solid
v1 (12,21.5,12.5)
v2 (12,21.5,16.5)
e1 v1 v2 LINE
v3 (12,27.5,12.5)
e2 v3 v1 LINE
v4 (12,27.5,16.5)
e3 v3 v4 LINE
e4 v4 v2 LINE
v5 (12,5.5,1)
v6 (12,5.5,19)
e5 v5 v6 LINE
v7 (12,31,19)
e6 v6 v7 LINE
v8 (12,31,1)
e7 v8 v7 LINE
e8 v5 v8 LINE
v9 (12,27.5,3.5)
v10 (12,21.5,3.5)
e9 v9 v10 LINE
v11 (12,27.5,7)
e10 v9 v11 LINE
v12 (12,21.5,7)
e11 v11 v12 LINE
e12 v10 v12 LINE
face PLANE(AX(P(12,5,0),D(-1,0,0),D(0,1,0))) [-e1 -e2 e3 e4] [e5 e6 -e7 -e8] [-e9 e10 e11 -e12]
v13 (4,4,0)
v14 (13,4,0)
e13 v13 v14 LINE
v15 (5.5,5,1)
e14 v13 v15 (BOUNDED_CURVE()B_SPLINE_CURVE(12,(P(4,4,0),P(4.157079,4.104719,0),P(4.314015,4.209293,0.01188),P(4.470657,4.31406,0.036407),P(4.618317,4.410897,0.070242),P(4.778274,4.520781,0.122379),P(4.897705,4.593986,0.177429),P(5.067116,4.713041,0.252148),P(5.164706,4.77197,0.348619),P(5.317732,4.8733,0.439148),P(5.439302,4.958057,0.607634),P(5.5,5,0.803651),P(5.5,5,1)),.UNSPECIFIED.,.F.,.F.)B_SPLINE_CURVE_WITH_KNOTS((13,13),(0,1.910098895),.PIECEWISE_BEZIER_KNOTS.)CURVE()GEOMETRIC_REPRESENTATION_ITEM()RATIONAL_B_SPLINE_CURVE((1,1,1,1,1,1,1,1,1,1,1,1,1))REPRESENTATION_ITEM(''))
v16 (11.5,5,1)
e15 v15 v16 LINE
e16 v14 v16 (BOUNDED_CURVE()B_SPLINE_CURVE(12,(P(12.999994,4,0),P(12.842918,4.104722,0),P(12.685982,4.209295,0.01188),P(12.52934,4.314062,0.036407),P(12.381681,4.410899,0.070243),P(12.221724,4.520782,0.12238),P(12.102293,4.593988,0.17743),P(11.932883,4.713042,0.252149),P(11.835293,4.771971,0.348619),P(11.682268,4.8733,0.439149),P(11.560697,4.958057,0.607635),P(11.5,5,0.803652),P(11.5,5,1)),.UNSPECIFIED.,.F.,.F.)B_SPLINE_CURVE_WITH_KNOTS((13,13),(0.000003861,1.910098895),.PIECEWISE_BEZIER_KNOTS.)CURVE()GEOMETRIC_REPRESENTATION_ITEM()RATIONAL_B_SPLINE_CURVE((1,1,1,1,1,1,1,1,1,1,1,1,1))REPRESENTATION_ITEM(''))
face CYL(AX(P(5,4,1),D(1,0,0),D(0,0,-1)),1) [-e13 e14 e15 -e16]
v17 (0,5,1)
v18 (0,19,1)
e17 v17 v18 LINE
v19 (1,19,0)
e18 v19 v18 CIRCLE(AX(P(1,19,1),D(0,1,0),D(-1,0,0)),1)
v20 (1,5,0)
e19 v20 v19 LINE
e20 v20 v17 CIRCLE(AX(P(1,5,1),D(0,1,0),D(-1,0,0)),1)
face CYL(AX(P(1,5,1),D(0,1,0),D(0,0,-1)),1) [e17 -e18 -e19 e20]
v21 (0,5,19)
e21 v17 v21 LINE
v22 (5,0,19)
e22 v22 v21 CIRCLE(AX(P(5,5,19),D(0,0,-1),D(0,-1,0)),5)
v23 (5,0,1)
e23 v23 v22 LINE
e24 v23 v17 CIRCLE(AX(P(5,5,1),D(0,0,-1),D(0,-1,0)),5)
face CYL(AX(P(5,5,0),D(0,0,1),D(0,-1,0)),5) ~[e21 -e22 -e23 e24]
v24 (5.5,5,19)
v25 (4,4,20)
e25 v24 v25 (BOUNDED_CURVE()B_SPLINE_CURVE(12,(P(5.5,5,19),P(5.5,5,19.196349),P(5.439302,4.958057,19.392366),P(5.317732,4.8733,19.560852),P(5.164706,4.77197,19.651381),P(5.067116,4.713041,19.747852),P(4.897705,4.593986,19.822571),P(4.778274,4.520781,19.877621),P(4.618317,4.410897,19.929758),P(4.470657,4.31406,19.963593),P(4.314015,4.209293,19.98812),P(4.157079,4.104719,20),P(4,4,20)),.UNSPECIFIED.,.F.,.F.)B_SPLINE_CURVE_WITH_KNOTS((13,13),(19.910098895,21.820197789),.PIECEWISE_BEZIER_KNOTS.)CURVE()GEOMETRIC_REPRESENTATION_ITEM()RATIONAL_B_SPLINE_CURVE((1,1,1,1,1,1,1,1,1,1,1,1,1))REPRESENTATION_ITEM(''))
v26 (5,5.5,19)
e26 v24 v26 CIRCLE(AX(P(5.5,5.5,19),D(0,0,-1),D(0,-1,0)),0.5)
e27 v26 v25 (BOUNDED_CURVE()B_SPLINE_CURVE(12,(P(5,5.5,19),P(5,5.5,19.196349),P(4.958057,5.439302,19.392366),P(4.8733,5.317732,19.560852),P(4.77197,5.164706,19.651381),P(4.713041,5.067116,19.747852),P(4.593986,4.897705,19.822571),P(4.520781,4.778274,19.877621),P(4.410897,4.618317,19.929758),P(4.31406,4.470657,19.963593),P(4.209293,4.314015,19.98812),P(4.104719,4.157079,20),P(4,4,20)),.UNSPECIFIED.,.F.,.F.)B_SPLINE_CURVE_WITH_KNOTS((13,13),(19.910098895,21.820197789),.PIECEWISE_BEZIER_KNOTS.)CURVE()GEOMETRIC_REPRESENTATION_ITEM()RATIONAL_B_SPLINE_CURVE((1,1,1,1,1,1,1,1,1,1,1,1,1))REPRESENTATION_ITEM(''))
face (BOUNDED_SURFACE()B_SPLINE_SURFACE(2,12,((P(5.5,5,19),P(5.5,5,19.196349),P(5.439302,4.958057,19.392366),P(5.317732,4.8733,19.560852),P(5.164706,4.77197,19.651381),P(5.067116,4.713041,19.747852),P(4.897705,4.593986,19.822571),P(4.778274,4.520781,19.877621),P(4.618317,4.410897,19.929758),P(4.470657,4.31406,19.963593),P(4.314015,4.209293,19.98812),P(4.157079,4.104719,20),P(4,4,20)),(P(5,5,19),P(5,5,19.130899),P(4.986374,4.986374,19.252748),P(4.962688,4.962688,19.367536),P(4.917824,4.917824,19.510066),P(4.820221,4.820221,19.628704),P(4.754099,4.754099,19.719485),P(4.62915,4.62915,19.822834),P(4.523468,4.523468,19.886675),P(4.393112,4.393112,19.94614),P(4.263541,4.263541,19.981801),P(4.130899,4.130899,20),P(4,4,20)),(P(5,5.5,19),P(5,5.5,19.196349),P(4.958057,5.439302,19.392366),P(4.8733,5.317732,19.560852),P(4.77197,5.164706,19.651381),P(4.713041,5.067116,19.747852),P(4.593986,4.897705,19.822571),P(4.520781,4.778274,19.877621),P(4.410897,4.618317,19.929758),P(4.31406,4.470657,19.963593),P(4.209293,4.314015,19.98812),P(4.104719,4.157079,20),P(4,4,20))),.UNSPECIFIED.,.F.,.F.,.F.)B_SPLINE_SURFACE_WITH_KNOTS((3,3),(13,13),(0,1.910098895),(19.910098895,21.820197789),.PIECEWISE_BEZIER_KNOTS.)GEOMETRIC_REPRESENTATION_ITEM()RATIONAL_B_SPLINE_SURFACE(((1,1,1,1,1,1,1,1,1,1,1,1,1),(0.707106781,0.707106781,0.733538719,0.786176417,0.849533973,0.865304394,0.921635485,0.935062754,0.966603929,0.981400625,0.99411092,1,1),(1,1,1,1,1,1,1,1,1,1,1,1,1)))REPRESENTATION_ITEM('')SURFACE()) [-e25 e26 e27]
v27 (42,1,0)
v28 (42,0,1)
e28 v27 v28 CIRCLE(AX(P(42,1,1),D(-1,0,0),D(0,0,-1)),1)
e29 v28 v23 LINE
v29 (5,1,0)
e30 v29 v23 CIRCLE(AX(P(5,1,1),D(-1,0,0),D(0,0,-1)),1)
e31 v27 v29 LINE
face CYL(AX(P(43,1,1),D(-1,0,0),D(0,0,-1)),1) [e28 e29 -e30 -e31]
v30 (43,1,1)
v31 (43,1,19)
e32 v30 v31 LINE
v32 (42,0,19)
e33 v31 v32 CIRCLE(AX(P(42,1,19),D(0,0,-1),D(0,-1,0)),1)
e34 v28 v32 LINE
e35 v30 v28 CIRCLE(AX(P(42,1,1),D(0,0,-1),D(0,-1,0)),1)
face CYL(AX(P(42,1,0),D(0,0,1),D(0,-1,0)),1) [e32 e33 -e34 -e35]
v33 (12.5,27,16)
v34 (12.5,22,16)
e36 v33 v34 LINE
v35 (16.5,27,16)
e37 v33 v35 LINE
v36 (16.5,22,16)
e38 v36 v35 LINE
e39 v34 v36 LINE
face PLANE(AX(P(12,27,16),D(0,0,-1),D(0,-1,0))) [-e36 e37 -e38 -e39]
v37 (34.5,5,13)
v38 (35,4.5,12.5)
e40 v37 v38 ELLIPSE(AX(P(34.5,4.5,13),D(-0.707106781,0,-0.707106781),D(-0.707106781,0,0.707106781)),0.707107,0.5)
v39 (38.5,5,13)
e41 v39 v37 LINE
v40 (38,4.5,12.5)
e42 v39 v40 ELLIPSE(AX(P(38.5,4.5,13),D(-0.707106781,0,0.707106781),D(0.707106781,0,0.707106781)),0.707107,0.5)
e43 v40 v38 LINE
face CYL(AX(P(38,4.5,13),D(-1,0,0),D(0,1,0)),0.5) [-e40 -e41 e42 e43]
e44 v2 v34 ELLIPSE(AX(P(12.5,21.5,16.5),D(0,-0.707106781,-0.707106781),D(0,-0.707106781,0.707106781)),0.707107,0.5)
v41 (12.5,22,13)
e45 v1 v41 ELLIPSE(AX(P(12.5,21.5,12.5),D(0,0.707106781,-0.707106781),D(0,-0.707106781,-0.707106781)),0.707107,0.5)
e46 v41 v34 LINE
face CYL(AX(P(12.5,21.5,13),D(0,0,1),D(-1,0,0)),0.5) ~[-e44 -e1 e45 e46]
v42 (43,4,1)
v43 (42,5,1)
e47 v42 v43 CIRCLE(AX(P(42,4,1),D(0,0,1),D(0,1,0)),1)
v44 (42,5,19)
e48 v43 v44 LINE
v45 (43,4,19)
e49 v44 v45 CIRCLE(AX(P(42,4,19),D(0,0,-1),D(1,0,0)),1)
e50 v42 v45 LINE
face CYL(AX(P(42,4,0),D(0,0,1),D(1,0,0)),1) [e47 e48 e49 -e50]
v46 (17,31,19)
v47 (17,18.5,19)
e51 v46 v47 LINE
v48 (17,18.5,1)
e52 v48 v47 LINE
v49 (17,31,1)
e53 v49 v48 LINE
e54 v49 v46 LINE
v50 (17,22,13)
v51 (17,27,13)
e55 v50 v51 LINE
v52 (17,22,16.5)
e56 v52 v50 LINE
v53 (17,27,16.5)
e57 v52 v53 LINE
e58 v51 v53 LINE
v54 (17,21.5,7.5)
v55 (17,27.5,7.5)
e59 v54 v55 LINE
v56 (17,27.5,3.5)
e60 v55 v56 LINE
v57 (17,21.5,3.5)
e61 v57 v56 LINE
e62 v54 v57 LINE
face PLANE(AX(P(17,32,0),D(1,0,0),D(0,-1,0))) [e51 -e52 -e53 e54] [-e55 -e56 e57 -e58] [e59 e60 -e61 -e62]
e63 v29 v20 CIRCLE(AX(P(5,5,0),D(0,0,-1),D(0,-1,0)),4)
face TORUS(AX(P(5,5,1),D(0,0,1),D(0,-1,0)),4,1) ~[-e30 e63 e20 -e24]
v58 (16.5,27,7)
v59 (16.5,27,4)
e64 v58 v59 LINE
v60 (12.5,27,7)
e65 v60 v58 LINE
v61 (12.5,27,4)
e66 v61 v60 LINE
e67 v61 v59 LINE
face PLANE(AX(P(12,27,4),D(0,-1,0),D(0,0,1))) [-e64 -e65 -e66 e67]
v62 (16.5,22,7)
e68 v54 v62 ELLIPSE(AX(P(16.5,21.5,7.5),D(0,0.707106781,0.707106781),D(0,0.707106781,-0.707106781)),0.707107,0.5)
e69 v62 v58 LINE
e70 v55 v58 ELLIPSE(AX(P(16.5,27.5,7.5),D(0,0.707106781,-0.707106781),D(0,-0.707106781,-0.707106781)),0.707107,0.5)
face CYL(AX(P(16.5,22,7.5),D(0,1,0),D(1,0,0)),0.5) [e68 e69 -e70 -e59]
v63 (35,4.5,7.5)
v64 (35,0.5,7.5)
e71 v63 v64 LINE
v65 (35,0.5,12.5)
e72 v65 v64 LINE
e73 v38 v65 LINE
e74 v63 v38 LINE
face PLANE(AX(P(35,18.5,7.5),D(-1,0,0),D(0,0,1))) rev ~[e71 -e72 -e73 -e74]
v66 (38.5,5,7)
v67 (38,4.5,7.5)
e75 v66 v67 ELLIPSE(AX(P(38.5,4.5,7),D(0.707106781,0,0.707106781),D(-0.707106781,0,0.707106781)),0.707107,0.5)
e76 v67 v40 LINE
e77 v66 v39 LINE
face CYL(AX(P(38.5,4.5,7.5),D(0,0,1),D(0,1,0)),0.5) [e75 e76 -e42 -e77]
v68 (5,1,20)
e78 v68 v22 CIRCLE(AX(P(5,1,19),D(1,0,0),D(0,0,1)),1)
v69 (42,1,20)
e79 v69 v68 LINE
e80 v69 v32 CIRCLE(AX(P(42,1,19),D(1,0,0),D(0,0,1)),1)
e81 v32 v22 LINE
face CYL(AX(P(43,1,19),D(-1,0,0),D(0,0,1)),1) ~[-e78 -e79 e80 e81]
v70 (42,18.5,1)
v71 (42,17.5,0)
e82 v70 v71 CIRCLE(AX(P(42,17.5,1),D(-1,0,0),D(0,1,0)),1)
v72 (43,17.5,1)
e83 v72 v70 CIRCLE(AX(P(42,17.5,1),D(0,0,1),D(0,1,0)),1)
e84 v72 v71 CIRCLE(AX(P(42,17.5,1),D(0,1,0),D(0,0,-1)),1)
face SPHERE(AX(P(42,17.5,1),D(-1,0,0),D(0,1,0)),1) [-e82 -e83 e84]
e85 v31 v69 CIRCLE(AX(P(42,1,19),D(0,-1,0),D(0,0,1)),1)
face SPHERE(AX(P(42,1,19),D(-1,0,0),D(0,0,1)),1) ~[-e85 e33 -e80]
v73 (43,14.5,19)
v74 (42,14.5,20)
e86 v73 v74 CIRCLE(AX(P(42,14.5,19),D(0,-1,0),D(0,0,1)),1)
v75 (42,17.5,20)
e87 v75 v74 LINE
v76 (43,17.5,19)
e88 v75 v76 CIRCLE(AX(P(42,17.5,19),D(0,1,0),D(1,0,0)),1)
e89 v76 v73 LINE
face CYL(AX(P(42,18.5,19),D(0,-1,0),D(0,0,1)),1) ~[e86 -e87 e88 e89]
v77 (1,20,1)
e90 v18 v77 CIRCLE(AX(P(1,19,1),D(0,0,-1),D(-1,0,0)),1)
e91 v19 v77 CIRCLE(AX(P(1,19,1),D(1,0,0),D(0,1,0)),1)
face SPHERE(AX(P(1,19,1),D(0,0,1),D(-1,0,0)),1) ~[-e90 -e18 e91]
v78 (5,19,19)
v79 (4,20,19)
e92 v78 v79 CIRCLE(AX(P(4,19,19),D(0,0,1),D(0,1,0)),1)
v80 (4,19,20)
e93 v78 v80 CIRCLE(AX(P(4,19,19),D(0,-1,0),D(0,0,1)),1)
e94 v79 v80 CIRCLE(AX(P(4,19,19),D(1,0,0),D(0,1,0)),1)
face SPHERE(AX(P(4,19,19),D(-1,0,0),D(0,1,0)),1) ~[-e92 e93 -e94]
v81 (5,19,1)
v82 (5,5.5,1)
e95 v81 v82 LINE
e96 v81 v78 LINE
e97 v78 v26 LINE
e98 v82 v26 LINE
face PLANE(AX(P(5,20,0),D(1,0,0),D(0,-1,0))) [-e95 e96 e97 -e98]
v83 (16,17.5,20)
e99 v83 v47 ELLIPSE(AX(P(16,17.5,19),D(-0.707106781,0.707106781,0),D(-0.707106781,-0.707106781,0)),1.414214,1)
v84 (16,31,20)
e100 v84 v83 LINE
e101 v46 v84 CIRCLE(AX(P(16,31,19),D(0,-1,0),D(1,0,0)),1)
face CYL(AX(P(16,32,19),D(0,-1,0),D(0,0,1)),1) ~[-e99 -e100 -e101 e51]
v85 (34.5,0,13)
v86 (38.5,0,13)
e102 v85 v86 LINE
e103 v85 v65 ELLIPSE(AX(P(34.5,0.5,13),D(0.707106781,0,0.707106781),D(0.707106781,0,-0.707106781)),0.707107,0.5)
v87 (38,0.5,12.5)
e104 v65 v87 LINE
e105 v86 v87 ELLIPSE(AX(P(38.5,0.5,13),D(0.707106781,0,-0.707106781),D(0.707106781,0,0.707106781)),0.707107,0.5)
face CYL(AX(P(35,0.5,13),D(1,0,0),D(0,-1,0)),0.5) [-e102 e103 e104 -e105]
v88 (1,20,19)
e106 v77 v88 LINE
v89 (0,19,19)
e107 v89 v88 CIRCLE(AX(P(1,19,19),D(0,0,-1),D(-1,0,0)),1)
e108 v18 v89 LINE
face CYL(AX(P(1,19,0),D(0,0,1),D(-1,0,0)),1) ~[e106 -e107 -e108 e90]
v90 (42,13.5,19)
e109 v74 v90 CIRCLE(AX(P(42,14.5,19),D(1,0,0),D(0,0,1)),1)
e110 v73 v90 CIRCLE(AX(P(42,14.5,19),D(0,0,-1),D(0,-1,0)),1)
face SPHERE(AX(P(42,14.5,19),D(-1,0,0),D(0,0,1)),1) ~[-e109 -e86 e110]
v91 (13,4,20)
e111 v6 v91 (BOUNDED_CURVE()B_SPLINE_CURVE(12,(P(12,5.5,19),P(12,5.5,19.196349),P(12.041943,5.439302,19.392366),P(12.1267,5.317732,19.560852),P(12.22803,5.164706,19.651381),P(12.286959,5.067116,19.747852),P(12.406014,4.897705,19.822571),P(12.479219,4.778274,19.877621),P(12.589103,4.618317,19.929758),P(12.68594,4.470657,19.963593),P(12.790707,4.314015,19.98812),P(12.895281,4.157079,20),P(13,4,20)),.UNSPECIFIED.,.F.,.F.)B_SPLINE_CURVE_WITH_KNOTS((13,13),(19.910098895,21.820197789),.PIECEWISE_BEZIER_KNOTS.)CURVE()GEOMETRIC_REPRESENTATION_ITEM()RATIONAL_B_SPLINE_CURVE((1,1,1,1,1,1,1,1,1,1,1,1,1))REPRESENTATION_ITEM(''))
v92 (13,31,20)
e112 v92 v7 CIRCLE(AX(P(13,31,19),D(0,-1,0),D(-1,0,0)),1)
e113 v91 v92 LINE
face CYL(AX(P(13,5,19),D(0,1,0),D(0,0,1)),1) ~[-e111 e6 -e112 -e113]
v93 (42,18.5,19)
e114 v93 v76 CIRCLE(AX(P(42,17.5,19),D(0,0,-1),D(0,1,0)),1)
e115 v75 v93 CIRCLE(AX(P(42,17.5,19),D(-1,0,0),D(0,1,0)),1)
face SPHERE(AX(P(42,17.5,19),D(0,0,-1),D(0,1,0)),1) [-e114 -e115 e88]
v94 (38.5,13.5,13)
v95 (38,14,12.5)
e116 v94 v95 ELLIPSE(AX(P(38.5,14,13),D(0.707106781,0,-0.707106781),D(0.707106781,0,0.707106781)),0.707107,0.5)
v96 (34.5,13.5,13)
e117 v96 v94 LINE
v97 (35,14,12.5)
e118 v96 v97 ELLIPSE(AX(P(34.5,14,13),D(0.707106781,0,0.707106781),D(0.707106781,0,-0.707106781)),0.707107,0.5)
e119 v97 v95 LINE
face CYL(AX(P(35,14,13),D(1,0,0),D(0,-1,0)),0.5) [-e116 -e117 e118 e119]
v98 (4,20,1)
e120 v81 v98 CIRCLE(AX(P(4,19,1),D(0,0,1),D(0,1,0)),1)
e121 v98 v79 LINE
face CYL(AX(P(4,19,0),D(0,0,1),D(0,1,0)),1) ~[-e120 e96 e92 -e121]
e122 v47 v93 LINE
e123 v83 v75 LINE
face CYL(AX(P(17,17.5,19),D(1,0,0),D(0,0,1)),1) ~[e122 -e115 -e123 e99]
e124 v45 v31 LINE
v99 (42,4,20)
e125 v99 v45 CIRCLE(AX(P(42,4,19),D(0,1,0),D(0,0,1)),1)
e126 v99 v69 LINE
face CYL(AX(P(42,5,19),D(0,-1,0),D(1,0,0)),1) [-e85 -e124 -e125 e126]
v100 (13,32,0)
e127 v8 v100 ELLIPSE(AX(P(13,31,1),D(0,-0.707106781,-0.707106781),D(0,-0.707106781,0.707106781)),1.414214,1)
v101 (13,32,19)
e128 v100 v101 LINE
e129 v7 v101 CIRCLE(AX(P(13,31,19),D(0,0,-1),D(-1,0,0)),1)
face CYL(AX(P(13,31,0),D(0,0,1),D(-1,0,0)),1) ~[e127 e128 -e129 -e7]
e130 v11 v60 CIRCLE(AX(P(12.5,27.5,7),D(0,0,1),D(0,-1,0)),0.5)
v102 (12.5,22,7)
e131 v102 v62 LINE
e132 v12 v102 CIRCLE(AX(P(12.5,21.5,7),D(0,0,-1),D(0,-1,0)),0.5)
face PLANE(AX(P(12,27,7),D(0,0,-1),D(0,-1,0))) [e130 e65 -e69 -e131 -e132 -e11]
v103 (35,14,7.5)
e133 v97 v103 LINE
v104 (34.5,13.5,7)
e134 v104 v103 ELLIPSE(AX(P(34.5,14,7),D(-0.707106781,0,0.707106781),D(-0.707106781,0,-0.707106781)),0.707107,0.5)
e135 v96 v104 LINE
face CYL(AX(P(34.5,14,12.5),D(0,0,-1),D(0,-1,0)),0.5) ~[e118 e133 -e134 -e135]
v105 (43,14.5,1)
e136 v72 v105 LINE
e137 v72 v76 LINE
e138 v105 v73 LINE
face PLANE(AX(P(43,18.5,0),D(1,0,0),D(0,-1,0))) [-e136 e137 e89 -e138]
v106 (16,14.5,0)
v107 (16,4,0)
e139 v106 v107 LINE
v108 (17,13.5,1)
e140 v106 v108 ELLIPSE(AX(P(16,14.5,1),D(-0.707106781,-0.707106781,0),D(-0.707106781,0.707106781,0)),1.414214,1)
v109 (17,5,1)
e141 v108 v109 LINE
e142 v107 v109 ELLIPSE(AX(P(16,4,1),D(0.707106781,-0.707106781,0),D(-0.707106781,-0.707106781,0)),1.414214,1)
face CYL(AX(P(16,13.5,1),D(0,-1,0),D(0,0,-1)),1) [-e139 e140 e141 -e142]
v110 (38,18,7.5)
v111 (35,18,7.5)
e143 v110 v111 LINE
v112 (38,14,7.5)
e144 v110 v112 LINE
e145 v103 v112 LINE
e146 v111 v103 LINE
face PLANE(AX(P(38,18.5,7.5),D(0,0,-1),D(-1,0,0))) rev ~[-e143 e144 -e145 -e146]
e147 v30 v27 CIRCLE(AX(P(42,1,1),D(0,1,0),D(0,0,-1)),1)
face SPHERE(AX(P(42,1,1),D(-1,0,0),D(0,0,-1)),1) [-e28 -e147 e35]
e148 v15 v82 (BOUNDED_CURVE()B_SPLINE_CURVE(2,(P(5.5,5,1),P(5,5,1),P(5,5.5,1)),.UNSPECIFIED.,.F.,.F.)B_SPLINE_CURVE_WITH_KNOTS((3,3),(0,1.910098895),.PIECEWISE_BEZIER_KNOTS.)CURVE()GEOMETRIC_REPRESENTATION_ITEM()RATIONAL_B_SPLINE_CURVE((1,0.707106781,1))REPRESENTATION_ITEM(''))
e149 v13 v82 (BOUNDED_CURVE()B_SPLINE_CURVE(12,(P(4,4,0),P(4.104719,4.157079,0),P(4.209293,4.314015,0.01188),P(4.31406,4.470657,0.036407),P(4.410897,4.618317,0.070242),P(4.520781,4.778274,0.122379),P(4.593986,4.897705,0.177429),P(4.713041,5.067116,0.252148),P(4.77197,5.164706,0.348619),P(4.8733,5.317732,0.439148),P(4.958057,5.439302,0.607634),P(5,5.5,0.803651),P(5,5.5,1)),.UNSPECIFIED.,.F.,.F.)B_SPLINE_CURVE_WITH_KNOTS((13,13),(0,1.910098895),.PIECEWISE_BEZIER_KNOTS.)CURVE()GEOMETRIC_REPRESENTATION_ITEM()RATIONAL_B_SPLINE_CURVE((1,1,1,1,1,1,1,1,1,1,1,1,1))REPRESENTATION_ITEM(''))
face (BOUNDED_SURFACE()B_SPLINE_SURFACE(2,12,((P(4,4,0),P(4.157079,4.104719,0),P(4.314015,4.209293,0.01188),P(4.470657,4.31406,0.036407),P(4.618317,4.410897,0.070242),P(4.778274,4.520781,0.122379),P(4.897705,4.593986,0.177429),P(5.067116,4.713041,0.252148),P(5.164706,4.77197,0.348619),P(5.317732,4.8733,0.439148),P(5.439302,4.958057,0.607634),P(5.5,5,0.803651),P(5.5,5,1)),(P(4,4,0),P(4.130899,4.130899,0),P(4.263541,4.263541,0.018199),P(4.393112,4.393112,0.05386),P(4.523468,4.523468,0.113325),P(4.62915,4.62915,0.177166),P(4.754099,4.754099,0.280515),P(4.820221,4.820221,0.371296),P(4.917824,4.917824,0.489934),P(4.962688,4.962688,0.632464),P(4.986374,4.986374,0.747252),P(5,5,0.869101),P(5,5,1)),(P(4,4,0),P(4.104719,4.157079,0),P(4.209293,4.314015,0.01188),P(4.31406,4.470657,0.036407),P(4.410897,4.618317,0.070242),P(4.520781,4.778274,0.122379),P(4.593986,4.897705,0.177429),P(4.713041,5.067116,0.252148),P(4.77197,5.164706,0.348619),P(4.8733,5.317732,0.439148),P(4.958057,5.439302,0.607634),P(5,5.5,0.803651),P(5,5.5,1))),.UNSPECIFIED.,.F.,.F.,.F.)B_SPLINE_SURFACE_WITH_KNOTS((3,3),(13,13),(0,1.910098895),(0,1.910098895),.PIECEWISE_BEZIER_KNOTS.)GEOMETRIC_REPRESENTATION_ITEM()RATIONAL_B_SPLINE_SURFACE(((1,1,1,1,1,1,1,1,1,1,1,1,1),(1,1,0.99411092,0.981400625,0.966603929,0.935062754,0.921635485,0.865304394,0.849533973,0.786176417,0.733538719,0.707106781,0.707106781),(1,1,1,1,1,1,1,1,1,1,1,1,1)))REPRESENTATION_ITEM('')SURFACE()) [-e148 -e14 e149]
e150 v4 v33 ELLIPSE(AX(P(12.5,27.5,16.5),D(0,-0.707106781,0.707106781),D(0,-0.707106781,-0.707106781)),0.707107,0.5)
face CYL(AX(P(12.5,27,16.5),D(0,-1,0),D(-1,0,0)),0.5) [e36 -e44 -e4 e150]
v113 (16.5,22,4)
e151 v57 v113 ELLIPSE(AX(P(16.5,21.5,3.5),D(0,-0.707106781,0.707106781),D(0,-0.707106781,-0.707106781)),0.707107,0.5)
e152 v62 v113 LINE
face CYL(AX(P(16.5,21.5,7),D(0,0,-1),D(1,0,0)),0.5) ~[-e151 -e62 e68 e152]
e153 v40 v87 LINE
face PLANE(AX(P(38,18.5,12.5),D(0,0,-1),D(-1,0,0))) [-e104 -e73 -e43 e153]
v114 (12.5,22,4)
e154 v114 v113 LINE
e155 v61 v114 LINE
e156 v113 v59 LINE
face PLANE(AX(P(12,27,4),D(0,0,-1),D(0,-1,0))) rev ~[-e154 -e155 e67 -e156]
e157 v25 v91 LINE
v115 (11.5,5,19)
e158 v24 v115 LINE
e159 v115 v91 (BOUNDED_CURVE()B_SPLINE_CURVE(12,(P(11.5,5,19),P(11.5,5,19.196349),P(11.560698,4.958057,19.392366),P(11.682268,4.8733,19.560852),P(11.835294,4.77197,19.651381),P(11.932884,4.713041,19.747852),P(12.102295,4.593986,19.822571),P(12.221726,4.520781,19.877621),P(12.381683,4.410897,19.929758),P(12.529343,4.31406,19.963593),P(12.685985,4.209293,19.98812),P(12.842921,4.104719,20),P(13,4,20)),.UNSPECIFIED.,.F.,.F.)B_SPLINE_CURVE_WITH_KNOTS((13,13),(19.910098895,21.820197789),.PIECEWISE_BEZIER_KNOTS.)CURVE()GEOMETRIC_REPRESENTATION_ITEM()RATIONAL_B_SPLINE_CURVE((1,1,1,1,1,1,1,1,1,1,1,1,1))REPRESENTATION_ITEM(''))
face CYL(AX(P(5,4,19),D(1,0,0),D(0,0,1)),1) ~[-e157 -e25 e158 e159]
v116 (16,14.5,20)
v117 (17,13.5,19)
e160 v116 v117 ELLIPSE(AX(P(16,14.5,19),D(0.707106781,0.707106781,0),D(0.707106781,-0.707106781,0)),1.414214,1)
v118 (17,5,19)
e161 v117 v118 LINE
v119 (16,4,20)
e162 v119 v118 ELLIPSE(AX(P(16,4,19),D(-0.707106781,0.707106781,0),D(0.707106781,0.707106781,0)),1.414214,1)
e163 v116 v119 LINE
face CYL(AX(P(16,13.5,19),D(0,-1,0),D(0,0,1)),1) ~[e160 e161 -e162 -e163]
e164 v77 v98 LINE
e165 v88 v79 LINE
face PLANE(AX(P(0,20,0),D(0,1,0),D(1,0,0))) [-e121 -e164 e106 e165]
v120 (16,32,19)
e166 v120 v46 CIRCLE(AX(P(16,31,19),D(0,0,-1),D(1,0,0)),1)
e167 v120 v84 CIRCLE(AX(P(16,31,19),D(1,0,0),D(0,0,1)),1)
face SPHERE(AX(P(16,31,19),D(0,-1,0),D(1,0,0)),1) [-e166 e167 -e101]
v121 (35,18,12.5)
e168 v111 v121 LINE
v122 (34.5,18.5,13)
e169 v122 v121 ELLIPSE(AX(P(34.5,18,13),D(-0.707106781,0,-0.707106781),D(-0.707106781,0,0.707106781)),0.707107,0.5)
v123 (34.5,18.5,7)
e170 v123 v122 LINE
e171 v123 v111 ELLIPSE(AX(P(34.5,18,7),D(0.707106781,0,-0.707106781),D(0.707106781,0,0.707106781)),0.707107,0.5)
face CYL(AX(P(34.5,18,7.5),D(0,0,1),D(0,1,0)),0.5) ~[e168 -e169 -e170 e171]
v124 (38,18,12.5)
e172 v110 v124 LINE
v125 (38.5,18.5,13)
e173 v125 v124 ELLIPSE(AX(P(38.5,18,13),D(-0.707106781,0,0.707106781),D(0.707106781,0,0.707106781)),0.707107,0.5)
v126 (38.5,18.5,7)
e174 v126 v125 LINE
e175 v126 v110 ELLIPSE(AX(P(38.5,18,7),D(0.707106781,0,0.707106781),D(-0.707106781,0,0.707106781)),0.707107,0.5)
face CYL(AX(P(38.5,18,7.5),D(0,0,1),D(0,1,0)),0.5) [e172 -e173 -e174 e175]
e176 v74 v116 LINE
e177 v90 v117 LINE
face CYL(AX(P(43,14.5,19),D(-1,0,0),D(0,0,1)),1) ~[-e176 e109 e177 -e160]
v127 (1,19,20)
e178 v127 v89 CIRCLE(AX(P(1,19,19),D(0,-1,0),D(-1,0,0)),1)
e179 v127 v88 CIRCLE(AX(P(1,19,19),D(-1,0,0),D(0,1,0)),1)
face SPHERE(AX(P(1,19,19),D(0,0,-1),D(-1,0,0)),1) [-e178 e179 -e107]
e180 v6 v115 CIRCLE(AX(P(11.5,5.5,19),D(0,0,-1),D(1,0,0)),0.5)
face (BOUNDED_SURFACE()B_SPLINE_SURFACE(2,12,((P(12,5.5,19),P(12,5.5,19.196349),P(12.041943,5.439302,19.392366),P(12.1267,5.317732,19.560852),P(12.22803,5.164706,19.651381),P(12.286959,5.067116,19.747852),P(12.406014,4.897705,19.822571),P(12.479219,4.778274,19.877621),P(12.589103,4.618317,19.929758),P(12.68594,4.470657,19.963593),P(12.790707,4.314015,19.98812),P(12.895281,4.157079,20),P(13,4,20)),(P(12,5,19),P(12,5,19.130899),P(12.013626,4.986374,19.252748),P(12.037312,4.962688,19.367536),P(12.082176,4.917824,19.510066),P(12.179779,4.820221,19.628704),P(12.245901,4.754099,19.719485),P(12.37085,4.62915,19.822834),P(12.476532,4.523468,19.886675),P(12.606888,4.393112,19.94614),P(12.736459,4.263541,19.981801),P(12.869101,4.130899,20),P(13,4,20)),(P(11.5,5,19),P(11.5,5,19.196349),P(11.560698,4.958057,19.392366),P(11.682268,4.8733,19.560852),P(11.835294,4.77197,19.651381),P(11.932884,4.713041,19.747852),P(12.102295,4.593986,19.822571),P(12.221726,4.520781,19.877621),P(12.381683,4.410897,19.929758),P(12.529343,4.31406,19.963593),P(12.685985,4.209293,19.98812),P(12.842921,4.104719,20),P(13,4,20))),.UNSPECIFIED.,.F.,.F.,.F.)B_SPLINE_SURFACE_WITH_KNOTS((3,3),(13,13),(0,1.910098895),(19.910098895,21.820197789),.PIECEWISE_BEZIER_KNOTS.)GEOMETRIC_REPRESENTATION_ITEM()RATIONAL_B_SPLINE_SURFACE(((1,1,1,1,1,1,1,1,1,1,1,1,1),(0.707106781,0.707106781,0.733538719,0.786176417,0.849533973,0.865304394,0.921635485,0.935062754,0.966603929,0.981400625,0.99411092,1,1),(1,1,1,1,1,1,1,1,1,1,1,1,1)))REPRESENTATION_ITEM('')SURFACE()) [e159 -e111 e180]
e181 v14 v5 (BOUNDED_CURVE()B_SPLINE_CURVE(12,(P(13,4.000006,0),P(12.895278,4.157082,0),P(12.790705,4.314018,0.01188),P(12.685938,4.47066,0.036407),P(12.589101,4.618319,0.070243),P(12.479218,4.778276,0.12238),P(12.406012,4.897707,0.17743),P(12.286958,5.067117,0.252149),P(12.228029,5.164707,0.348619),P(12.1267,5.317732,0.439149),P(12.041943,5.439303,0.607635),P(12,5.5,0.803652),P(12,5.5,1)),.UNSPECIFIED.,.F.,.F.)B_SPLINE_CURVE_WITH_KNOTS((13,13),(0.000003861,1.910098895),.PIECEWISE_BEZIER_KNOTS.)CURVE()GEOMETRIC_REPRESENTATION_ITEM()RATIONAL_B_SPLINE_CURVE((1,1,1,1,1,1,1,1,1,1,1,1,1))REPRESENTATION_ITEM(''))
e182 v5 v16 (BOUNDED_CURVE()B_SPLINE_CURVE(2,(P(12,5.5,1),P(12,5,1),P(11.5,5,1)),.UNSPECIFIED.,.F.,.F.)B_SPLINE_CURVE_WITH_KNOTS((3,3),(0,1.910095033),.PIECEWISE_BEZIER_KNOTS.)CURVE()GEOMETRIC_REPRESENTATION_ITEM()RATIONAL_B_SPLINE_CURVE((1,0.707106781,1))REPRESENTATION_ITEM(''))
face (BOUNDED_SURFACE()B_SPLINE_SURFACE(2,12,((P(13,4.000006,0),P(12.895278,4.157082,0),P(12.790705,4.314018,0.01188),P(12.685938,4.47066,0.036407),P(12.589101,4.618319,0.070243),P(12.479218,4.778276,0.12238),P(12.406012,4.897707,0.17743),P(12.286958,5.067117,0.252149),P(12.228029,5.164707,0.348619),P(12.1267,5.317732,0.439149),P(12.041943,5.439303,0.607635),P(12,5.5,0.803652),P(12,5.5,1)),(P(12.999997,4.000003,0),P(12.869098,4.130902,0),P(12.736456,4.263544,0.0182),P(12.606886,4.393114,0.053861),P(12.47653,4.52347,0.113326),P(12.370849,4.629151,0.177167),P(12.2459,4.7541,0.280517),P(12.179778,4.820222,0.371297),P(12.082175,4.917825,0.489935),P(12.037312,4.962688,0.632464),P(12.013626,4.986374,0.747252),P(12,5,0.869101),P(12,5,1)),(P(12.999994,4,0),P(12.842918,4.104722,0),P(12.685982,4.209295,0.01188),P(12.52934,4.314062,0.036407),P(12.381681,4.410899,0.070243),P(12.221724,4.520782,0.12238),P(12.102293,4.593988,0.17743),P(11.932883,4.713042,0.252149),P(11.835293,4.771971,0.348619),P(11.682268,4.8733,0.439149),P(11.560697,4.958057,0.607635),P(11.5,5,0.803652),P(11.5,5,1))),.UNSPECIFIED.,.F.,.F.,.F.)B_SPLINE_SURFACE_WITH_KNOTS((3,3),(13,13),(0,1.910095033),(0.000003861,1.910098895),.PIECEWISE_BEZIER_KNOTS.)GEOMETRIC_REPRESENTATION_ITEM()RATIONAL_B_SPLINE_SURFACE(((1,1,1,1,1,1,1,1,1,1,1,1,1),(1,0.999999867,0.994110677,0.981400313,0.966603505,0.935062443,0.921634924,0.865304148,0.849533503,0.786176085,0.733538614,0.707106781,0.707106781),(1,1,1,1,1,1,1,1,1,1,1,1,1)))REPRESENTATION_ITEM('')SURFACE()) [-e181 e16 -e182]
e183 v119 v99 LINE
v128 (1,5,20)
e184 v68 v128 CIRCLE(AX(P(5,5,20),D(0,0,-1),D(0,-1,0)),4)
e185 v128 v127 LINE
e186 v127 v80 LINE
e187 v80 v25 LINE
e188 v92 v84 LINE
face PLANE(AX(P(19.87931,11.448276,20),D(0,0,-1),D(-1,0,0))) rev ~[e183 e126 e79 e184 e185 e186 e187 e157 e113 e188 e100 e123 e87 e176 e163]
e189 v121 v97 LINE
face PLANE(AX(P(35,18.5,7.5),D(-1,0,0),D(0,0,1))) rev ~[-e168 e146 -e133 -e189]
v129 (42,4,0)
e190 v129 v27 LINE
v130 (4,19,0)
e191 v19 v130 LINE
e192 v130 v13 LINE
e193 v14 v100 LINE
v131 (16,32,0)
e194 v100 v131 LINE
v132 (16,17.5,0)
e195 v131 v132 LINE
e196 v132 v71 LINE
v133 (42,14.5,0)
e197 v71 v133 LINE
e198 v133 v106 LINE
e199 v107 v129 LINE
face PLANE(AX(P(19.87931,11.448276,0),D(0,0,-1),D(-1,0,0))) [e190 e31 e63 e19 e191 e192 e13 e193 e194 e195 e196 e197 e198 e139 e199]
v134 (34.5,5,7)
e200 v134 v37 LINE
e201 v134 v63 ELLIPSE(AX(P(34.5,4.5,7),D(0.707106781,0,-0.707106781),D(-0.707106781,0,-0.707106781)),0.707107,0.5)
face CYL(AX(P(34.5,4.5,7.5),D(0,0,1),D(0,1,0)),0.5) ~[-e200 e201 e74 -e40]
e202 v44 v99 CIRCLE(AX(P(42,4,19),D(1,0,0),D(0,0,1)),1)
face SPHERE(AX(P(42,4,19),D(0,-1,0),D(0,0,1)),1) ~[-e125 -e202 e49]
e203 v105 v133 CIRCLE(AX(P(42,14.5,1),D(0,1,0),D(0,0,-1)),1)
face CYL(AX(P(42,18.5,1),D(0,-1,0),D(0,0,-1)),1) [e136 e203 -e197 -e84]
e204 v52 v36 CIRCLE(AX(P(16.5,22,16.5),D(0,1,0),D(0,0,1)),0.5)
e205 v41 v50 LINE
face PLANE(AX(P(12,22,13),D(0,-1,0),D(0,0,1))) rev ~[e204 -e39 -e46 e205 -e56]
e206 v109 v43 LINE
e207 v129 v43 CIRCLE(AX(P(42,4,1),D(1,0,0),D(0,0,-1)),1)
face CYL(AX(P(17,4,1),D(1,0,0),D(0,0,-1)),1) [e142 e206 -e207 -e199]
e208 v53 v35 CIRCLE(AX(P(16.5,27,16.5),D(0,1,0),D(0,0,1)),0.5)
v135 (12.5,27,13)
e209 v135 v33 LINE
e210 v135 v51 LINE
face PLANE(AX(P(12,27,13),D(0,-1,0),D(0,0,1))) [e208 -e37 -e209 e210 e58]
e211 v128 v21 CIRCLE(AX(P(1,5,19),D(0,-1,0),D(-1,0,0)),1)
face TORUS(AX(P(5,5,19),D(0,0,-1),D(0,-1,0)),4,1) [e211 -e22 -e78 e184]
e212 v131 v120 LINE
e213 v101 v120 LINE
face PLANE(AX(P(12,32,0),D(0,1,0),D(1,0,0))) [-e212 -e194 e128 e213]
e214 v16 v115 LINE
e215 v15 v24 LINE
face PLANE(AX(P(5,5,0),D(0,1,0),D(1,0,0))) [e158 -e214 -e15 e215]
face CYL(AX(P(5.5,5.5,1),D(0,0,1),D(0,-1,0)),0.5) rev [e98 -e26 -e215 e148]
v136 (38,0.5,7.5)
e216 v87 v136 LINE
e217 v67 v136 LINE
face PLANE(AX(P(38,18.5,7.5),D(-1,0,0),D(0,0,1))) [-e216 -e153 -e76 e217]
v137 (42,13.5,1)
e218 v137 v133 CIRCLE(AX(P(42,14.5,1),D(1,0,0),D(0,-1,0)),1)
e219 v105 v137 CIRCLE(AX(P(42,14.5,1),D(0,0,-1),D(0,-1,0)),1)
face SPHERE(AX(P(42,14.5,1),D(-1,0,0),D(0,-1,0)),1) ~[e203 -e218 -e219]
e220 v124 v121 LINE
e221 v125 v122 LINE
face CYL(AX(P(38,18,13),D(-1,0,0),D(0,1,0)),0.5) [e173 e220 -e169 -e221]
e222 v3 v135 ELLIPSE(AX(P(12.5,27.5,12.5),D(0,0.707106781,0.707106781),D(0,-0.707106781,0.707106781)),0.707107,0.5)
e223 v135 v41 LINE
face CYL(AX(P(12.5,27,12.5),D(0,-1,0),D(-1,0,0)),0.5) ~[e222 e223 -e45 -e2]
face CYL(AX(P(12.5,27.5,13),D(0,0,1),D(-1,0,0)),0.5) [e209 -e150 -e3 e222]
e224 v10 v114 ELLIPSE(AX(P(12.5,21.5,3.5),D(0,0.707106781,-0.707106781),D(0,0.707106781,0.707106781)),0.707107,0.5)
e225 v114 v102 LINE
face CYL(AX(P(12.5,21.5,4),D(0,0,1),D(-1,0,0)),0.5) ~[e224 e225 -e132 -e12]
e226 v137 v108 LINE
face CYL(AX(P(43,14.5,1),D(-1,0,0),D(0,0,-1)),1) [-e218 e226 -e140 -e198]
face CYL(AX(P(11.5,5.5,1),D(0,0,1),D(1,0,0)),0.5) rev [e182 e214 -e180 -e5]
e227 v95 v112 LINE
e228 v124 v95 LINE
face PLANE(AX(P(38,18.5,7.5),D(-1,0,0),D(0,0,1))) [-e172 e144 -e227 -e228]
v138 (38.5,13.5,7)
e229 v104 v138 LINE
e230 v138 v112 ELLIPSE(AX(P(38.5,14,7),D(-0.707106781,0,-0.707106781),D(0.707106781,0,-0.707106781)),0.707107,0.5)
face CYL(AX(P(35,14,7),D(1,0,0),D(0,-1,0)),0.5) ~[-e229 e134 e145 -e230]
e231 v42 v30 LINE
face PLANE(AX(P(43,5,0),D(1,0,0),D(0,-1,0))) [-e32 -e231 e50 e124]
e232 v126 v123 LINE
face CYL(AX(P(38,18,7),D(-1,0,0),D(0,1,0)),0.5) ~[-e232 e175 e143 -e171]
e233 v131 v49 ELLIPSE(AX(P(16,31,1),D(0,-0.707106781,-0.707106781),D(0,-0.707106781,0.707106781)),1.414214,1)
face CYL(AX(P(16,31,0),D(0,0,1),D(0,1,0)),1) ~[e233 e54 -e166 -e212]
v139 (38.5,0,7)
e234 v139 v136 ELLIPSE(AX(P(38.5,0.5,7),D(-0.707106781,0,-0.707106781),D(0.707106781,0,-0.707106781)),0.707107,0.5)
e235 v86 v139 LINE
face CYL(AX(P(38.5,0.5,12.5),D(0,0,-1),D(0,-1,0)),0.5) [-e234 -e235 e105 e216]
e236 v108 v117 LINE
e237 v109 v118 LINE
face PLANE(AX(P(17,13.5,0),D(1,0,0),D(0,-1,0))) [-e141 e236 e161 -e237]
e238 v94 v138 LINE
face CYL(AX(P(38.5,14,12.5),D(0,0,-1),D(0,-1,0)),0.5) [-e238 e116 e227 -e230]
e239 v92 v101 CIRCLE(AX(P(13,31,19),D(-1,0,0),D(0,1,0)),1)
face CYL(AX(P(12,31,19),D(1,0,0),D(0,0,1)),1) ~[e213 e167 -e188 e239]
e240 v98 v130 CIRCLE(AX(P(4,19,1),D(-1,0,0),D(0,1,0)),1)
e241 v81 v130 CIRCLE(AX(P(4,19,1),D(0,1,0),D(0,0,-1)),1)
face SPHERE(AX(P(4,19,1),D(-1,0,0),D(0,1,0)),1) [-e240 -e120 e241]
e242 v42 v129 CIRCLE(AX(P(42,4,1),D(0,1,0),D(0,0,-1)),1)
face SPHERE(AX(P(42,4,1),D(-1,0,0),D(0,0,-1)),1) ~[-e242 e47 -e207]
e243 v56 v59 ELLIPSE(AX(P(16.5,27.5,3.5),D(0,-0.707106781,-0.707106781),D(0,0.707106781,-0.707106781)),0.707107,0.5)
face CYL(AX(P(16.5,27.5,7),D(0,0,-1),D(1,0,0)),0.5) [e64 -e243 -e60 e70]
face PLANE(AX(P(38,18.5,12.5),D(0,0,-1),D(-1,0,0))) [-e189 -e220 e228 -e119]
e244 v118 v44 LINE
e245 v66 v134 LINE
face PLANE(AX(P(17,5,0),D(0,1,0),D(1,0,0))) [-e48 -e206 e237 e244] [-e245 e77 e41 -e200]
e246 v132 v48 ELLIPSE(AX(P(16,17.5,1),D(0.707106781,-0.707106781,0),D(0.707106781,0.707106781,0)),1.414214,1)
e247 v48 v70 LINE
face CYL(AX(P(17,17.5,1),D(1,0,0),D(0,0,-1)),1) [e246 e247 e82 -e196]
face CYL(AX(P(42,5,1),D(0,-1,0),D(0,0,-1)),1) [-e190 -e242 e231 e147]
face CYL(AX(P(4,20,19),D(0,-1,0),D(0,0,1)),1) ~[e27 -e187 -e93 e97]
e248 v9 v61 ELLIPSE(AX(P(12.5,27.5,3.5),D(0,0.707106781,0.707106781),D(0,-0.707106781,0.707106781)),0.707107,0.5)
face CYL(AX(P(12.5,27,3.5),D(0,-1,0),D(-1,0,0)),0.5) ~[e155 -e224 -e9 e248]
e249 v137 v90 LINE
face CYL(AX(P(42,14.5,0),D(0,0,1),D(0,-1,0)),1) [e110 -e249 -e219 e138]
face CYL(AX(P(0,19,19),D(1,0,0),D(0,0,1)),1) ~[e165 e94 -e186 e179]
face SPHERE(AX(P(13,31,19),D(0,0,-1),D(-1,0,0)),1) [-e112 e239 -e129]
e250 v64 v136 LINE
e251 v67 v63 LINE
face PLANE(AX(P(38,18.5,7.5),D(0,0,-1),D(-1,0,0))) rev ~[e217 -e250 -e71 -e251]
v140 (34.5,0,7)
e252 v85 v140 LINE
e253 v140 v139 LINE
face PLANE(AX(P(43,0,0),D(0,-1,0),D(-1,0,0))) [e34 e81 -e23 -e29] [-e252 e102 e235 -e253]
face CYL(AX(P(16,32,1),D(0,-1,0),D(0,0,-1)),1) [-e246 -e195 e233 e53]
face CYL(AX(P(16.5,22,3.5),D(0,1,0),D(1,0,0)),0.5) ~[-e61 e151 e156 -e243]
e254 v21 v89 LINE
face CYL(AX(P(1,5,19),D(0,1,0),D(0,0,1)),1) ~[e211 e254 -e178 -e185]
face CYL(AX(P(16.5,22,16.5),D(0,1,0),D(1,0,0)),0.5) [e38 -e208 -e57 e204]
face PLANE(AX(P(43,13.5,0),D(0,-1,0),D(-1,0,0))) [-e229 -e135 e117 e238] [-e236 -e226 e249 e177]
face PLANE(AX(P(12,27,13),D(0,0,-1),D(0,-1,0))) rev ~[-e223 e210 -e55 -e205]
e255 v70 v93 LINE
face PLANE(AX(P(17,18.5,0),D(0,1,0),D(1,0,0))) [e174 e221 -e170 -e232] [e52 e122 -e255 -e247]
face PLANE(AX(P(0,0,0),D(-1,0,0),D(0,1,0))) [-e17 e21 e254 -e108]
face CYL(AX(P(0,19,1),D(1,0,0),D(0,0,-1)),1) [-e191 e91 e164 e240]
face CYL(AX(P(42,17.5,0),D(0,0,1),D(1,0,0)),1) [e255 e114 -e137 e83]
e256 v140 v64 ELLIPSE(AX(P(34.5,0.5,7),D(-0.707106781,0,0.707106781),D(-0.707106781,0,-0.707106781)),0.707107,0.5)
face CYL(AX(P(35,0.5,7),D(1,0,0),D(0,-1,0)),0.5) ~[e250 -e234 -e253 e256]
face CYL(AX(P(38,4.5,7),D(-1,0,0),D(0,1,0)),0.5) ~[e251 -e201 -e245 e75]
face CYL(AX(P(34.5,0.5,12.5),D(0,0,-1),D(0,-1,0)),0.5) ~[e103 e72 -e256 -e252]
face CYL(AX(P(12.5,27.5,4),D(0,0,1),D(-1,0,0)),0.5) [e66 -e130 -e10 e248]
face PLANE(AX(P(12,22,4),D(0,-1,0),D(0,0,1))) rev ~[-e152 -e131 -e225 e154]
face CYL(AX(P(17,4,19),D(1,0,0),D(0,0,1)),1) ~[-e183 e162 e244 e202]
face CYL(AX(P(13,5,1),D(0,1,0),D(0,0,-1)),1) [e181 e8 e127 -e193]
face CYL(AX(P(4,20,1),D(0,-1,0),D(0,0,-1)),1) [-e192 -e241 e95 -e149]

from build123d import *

# Parameters (mm, degrees)
PAD_DEPTH       = 20
FILLET_R        = 5
FILLET001_R     = 1
SKETCH001_W     = 5
SKETCH001_H     = 3
POCKET_DEPTH    = 31.001
FILLET002_R     = 0.5
SKETCH002_W     = 3
SKETCH002_H     = 5
POCKET001_DEPTH = 18.501
FILLET003_R     = 0.5


with BuildPart() as part:
    # Sketch → Pad (new body)
    with BuildSketch(Plane.XY):
        Polygon((5, 20), (5, 5), (12, 5), (12, 32), (17, 32), (17, 18.5), (43, 18.5), (43, 13.5), (17, 13.5), (17, 5), (43, 5), (43, 0), (0, 0), (0, 20), align=None)
    extrude(amount=PAD_DEPTH)

    # Fillet
    fillet_edges = [part.edges().sort_by_distance(p)[0] for p in [
        (0, 0, 10),
    ]]
    fillet(fillet_edges, radius=FILLET_R)

    # Fillet001
    fillet001_edges = [part.edges().sort_by_distance(p)[0] for p in [
        (0, 20, 10),
        (0, 12.5, 20),
        (0, 12.5, 0),
        (2.5, 20, 20),
        (2.5, 20, 0),
        (5, 20, 10),
        (12, 32, 10),
        (12, 18.5, 20),
        (8.5, 5, 20),
        (5, 12.5, 20),
        (17, 25.25, 20),
        (17, 32, 10),
        (30, 18.5, 0),
        (43, 18.5, 10),
        (30, 18.5, 20),
        (24, 0, 20),
        (1.464466, 1.464466, 20),
        (43, 2.5, 20),
        (30, 5, 20),
        (17, 9.25, 20),
        (30, 13.5, 20),
        (43, 16, 20),
        (14.5, 32, 20),
        (12, 18.5, 0),
        (17, 25.25, 0),
        (30, 13.5, 0),
        (17, 9.25, 0),
        (30, 5, 0),
        (8.5, 5, 0),
        (24, 0, 0),
        (43, 13.5, 10),
        (43, 16, 0),
        (43, 2.5, 0),
        (43, 0, 10),
        (43, 5, 10),
        (5, 12.5, 0),
    ]]
    fillet(fillet001_edges, radius=FILLET001_R)

    # Sketch001 (on Face47 of Fillet001) → Pocket (cut, through all)
    with BuildSketch(Plane(origin=(12, 0, 0), x_dir=(0, -1, 0), z_dir=(-1, 0, 0))):
        with Locations((-24.5, 5.5)):
            Rectangle(SKETCH001_W, SKETCH001_H)
        with Locations((-24.5, 14.5)):
            Rectangle(SKETCH001_W, SKETCH001_H)
    extrude(amount=-POCKET_DEPTH, mode=Mode.SUBTRACT)

    # Fillet002
    fillet002_edges = [part.edges().sort_by_distance(p)[0] for p in [
        (12, 22, 5.5),
        (12, 24.5, 16),
        (12, 27, 5.5),
        (12, 24.5, 4),
        (12, 24.5, 13),
        (12, 27, 14.5),
        (12, 5, 10),
        (12, 22, 14.5),
        (17, 27, 5.5),
        (17, 24.5, 16),
        (17, 22, 5.5),
        (17, 24.5, 4),
        (42.707107, 18.207107, 1),
        (17, 24.5, 7),
        (5, 5, 10),
        (42, 18.5, 10),
    ]]
    fillet(fillet002_edges, radius=FILLET002_R)

    # Sketch002 (on Face46 of Fillet002) → Pocket001 (cut, through all)
    with BuildSketch(Plane(origin=(0, 18.5, 0), x_dir=(-1, 0, 0), z_dir=(0, 1, 0))):
        with Locations((-36.5, 10)):
            Rectangle(SKETCH002_W, SKETCH002_H)
    extrude(amount=-POCKET001_DEPTH, mode=Mode.SUBTRACT)

    # Fillet003
    fillet003_edges = [part.edges().sort_by_distance(p)[0] for p in [
        (35, 18.5, 10),
        (36.5, 18.5, 7.5),
        (38, 18.5, 10),
        (36.5, 18.5, 12.5),
        (36.5, 5, 7.5),
        (38, 5, 10),
        (35, 5, 10),
        (36.5, 5, 12.5),
        (36.5, 0, 12.5),
        (35, 0, 10),
        (36.5, 0, 7.5),
        (38, 0, 10),
        (35, 13.5, 10),
        (36.5, 13.5, 12.5),
        (38, 13.5, 10),
        (36.5, 13.5, 7.5),
    ]]
    fillet(fillet003_edges, radius=FILLET003_R)


solid = part.part
